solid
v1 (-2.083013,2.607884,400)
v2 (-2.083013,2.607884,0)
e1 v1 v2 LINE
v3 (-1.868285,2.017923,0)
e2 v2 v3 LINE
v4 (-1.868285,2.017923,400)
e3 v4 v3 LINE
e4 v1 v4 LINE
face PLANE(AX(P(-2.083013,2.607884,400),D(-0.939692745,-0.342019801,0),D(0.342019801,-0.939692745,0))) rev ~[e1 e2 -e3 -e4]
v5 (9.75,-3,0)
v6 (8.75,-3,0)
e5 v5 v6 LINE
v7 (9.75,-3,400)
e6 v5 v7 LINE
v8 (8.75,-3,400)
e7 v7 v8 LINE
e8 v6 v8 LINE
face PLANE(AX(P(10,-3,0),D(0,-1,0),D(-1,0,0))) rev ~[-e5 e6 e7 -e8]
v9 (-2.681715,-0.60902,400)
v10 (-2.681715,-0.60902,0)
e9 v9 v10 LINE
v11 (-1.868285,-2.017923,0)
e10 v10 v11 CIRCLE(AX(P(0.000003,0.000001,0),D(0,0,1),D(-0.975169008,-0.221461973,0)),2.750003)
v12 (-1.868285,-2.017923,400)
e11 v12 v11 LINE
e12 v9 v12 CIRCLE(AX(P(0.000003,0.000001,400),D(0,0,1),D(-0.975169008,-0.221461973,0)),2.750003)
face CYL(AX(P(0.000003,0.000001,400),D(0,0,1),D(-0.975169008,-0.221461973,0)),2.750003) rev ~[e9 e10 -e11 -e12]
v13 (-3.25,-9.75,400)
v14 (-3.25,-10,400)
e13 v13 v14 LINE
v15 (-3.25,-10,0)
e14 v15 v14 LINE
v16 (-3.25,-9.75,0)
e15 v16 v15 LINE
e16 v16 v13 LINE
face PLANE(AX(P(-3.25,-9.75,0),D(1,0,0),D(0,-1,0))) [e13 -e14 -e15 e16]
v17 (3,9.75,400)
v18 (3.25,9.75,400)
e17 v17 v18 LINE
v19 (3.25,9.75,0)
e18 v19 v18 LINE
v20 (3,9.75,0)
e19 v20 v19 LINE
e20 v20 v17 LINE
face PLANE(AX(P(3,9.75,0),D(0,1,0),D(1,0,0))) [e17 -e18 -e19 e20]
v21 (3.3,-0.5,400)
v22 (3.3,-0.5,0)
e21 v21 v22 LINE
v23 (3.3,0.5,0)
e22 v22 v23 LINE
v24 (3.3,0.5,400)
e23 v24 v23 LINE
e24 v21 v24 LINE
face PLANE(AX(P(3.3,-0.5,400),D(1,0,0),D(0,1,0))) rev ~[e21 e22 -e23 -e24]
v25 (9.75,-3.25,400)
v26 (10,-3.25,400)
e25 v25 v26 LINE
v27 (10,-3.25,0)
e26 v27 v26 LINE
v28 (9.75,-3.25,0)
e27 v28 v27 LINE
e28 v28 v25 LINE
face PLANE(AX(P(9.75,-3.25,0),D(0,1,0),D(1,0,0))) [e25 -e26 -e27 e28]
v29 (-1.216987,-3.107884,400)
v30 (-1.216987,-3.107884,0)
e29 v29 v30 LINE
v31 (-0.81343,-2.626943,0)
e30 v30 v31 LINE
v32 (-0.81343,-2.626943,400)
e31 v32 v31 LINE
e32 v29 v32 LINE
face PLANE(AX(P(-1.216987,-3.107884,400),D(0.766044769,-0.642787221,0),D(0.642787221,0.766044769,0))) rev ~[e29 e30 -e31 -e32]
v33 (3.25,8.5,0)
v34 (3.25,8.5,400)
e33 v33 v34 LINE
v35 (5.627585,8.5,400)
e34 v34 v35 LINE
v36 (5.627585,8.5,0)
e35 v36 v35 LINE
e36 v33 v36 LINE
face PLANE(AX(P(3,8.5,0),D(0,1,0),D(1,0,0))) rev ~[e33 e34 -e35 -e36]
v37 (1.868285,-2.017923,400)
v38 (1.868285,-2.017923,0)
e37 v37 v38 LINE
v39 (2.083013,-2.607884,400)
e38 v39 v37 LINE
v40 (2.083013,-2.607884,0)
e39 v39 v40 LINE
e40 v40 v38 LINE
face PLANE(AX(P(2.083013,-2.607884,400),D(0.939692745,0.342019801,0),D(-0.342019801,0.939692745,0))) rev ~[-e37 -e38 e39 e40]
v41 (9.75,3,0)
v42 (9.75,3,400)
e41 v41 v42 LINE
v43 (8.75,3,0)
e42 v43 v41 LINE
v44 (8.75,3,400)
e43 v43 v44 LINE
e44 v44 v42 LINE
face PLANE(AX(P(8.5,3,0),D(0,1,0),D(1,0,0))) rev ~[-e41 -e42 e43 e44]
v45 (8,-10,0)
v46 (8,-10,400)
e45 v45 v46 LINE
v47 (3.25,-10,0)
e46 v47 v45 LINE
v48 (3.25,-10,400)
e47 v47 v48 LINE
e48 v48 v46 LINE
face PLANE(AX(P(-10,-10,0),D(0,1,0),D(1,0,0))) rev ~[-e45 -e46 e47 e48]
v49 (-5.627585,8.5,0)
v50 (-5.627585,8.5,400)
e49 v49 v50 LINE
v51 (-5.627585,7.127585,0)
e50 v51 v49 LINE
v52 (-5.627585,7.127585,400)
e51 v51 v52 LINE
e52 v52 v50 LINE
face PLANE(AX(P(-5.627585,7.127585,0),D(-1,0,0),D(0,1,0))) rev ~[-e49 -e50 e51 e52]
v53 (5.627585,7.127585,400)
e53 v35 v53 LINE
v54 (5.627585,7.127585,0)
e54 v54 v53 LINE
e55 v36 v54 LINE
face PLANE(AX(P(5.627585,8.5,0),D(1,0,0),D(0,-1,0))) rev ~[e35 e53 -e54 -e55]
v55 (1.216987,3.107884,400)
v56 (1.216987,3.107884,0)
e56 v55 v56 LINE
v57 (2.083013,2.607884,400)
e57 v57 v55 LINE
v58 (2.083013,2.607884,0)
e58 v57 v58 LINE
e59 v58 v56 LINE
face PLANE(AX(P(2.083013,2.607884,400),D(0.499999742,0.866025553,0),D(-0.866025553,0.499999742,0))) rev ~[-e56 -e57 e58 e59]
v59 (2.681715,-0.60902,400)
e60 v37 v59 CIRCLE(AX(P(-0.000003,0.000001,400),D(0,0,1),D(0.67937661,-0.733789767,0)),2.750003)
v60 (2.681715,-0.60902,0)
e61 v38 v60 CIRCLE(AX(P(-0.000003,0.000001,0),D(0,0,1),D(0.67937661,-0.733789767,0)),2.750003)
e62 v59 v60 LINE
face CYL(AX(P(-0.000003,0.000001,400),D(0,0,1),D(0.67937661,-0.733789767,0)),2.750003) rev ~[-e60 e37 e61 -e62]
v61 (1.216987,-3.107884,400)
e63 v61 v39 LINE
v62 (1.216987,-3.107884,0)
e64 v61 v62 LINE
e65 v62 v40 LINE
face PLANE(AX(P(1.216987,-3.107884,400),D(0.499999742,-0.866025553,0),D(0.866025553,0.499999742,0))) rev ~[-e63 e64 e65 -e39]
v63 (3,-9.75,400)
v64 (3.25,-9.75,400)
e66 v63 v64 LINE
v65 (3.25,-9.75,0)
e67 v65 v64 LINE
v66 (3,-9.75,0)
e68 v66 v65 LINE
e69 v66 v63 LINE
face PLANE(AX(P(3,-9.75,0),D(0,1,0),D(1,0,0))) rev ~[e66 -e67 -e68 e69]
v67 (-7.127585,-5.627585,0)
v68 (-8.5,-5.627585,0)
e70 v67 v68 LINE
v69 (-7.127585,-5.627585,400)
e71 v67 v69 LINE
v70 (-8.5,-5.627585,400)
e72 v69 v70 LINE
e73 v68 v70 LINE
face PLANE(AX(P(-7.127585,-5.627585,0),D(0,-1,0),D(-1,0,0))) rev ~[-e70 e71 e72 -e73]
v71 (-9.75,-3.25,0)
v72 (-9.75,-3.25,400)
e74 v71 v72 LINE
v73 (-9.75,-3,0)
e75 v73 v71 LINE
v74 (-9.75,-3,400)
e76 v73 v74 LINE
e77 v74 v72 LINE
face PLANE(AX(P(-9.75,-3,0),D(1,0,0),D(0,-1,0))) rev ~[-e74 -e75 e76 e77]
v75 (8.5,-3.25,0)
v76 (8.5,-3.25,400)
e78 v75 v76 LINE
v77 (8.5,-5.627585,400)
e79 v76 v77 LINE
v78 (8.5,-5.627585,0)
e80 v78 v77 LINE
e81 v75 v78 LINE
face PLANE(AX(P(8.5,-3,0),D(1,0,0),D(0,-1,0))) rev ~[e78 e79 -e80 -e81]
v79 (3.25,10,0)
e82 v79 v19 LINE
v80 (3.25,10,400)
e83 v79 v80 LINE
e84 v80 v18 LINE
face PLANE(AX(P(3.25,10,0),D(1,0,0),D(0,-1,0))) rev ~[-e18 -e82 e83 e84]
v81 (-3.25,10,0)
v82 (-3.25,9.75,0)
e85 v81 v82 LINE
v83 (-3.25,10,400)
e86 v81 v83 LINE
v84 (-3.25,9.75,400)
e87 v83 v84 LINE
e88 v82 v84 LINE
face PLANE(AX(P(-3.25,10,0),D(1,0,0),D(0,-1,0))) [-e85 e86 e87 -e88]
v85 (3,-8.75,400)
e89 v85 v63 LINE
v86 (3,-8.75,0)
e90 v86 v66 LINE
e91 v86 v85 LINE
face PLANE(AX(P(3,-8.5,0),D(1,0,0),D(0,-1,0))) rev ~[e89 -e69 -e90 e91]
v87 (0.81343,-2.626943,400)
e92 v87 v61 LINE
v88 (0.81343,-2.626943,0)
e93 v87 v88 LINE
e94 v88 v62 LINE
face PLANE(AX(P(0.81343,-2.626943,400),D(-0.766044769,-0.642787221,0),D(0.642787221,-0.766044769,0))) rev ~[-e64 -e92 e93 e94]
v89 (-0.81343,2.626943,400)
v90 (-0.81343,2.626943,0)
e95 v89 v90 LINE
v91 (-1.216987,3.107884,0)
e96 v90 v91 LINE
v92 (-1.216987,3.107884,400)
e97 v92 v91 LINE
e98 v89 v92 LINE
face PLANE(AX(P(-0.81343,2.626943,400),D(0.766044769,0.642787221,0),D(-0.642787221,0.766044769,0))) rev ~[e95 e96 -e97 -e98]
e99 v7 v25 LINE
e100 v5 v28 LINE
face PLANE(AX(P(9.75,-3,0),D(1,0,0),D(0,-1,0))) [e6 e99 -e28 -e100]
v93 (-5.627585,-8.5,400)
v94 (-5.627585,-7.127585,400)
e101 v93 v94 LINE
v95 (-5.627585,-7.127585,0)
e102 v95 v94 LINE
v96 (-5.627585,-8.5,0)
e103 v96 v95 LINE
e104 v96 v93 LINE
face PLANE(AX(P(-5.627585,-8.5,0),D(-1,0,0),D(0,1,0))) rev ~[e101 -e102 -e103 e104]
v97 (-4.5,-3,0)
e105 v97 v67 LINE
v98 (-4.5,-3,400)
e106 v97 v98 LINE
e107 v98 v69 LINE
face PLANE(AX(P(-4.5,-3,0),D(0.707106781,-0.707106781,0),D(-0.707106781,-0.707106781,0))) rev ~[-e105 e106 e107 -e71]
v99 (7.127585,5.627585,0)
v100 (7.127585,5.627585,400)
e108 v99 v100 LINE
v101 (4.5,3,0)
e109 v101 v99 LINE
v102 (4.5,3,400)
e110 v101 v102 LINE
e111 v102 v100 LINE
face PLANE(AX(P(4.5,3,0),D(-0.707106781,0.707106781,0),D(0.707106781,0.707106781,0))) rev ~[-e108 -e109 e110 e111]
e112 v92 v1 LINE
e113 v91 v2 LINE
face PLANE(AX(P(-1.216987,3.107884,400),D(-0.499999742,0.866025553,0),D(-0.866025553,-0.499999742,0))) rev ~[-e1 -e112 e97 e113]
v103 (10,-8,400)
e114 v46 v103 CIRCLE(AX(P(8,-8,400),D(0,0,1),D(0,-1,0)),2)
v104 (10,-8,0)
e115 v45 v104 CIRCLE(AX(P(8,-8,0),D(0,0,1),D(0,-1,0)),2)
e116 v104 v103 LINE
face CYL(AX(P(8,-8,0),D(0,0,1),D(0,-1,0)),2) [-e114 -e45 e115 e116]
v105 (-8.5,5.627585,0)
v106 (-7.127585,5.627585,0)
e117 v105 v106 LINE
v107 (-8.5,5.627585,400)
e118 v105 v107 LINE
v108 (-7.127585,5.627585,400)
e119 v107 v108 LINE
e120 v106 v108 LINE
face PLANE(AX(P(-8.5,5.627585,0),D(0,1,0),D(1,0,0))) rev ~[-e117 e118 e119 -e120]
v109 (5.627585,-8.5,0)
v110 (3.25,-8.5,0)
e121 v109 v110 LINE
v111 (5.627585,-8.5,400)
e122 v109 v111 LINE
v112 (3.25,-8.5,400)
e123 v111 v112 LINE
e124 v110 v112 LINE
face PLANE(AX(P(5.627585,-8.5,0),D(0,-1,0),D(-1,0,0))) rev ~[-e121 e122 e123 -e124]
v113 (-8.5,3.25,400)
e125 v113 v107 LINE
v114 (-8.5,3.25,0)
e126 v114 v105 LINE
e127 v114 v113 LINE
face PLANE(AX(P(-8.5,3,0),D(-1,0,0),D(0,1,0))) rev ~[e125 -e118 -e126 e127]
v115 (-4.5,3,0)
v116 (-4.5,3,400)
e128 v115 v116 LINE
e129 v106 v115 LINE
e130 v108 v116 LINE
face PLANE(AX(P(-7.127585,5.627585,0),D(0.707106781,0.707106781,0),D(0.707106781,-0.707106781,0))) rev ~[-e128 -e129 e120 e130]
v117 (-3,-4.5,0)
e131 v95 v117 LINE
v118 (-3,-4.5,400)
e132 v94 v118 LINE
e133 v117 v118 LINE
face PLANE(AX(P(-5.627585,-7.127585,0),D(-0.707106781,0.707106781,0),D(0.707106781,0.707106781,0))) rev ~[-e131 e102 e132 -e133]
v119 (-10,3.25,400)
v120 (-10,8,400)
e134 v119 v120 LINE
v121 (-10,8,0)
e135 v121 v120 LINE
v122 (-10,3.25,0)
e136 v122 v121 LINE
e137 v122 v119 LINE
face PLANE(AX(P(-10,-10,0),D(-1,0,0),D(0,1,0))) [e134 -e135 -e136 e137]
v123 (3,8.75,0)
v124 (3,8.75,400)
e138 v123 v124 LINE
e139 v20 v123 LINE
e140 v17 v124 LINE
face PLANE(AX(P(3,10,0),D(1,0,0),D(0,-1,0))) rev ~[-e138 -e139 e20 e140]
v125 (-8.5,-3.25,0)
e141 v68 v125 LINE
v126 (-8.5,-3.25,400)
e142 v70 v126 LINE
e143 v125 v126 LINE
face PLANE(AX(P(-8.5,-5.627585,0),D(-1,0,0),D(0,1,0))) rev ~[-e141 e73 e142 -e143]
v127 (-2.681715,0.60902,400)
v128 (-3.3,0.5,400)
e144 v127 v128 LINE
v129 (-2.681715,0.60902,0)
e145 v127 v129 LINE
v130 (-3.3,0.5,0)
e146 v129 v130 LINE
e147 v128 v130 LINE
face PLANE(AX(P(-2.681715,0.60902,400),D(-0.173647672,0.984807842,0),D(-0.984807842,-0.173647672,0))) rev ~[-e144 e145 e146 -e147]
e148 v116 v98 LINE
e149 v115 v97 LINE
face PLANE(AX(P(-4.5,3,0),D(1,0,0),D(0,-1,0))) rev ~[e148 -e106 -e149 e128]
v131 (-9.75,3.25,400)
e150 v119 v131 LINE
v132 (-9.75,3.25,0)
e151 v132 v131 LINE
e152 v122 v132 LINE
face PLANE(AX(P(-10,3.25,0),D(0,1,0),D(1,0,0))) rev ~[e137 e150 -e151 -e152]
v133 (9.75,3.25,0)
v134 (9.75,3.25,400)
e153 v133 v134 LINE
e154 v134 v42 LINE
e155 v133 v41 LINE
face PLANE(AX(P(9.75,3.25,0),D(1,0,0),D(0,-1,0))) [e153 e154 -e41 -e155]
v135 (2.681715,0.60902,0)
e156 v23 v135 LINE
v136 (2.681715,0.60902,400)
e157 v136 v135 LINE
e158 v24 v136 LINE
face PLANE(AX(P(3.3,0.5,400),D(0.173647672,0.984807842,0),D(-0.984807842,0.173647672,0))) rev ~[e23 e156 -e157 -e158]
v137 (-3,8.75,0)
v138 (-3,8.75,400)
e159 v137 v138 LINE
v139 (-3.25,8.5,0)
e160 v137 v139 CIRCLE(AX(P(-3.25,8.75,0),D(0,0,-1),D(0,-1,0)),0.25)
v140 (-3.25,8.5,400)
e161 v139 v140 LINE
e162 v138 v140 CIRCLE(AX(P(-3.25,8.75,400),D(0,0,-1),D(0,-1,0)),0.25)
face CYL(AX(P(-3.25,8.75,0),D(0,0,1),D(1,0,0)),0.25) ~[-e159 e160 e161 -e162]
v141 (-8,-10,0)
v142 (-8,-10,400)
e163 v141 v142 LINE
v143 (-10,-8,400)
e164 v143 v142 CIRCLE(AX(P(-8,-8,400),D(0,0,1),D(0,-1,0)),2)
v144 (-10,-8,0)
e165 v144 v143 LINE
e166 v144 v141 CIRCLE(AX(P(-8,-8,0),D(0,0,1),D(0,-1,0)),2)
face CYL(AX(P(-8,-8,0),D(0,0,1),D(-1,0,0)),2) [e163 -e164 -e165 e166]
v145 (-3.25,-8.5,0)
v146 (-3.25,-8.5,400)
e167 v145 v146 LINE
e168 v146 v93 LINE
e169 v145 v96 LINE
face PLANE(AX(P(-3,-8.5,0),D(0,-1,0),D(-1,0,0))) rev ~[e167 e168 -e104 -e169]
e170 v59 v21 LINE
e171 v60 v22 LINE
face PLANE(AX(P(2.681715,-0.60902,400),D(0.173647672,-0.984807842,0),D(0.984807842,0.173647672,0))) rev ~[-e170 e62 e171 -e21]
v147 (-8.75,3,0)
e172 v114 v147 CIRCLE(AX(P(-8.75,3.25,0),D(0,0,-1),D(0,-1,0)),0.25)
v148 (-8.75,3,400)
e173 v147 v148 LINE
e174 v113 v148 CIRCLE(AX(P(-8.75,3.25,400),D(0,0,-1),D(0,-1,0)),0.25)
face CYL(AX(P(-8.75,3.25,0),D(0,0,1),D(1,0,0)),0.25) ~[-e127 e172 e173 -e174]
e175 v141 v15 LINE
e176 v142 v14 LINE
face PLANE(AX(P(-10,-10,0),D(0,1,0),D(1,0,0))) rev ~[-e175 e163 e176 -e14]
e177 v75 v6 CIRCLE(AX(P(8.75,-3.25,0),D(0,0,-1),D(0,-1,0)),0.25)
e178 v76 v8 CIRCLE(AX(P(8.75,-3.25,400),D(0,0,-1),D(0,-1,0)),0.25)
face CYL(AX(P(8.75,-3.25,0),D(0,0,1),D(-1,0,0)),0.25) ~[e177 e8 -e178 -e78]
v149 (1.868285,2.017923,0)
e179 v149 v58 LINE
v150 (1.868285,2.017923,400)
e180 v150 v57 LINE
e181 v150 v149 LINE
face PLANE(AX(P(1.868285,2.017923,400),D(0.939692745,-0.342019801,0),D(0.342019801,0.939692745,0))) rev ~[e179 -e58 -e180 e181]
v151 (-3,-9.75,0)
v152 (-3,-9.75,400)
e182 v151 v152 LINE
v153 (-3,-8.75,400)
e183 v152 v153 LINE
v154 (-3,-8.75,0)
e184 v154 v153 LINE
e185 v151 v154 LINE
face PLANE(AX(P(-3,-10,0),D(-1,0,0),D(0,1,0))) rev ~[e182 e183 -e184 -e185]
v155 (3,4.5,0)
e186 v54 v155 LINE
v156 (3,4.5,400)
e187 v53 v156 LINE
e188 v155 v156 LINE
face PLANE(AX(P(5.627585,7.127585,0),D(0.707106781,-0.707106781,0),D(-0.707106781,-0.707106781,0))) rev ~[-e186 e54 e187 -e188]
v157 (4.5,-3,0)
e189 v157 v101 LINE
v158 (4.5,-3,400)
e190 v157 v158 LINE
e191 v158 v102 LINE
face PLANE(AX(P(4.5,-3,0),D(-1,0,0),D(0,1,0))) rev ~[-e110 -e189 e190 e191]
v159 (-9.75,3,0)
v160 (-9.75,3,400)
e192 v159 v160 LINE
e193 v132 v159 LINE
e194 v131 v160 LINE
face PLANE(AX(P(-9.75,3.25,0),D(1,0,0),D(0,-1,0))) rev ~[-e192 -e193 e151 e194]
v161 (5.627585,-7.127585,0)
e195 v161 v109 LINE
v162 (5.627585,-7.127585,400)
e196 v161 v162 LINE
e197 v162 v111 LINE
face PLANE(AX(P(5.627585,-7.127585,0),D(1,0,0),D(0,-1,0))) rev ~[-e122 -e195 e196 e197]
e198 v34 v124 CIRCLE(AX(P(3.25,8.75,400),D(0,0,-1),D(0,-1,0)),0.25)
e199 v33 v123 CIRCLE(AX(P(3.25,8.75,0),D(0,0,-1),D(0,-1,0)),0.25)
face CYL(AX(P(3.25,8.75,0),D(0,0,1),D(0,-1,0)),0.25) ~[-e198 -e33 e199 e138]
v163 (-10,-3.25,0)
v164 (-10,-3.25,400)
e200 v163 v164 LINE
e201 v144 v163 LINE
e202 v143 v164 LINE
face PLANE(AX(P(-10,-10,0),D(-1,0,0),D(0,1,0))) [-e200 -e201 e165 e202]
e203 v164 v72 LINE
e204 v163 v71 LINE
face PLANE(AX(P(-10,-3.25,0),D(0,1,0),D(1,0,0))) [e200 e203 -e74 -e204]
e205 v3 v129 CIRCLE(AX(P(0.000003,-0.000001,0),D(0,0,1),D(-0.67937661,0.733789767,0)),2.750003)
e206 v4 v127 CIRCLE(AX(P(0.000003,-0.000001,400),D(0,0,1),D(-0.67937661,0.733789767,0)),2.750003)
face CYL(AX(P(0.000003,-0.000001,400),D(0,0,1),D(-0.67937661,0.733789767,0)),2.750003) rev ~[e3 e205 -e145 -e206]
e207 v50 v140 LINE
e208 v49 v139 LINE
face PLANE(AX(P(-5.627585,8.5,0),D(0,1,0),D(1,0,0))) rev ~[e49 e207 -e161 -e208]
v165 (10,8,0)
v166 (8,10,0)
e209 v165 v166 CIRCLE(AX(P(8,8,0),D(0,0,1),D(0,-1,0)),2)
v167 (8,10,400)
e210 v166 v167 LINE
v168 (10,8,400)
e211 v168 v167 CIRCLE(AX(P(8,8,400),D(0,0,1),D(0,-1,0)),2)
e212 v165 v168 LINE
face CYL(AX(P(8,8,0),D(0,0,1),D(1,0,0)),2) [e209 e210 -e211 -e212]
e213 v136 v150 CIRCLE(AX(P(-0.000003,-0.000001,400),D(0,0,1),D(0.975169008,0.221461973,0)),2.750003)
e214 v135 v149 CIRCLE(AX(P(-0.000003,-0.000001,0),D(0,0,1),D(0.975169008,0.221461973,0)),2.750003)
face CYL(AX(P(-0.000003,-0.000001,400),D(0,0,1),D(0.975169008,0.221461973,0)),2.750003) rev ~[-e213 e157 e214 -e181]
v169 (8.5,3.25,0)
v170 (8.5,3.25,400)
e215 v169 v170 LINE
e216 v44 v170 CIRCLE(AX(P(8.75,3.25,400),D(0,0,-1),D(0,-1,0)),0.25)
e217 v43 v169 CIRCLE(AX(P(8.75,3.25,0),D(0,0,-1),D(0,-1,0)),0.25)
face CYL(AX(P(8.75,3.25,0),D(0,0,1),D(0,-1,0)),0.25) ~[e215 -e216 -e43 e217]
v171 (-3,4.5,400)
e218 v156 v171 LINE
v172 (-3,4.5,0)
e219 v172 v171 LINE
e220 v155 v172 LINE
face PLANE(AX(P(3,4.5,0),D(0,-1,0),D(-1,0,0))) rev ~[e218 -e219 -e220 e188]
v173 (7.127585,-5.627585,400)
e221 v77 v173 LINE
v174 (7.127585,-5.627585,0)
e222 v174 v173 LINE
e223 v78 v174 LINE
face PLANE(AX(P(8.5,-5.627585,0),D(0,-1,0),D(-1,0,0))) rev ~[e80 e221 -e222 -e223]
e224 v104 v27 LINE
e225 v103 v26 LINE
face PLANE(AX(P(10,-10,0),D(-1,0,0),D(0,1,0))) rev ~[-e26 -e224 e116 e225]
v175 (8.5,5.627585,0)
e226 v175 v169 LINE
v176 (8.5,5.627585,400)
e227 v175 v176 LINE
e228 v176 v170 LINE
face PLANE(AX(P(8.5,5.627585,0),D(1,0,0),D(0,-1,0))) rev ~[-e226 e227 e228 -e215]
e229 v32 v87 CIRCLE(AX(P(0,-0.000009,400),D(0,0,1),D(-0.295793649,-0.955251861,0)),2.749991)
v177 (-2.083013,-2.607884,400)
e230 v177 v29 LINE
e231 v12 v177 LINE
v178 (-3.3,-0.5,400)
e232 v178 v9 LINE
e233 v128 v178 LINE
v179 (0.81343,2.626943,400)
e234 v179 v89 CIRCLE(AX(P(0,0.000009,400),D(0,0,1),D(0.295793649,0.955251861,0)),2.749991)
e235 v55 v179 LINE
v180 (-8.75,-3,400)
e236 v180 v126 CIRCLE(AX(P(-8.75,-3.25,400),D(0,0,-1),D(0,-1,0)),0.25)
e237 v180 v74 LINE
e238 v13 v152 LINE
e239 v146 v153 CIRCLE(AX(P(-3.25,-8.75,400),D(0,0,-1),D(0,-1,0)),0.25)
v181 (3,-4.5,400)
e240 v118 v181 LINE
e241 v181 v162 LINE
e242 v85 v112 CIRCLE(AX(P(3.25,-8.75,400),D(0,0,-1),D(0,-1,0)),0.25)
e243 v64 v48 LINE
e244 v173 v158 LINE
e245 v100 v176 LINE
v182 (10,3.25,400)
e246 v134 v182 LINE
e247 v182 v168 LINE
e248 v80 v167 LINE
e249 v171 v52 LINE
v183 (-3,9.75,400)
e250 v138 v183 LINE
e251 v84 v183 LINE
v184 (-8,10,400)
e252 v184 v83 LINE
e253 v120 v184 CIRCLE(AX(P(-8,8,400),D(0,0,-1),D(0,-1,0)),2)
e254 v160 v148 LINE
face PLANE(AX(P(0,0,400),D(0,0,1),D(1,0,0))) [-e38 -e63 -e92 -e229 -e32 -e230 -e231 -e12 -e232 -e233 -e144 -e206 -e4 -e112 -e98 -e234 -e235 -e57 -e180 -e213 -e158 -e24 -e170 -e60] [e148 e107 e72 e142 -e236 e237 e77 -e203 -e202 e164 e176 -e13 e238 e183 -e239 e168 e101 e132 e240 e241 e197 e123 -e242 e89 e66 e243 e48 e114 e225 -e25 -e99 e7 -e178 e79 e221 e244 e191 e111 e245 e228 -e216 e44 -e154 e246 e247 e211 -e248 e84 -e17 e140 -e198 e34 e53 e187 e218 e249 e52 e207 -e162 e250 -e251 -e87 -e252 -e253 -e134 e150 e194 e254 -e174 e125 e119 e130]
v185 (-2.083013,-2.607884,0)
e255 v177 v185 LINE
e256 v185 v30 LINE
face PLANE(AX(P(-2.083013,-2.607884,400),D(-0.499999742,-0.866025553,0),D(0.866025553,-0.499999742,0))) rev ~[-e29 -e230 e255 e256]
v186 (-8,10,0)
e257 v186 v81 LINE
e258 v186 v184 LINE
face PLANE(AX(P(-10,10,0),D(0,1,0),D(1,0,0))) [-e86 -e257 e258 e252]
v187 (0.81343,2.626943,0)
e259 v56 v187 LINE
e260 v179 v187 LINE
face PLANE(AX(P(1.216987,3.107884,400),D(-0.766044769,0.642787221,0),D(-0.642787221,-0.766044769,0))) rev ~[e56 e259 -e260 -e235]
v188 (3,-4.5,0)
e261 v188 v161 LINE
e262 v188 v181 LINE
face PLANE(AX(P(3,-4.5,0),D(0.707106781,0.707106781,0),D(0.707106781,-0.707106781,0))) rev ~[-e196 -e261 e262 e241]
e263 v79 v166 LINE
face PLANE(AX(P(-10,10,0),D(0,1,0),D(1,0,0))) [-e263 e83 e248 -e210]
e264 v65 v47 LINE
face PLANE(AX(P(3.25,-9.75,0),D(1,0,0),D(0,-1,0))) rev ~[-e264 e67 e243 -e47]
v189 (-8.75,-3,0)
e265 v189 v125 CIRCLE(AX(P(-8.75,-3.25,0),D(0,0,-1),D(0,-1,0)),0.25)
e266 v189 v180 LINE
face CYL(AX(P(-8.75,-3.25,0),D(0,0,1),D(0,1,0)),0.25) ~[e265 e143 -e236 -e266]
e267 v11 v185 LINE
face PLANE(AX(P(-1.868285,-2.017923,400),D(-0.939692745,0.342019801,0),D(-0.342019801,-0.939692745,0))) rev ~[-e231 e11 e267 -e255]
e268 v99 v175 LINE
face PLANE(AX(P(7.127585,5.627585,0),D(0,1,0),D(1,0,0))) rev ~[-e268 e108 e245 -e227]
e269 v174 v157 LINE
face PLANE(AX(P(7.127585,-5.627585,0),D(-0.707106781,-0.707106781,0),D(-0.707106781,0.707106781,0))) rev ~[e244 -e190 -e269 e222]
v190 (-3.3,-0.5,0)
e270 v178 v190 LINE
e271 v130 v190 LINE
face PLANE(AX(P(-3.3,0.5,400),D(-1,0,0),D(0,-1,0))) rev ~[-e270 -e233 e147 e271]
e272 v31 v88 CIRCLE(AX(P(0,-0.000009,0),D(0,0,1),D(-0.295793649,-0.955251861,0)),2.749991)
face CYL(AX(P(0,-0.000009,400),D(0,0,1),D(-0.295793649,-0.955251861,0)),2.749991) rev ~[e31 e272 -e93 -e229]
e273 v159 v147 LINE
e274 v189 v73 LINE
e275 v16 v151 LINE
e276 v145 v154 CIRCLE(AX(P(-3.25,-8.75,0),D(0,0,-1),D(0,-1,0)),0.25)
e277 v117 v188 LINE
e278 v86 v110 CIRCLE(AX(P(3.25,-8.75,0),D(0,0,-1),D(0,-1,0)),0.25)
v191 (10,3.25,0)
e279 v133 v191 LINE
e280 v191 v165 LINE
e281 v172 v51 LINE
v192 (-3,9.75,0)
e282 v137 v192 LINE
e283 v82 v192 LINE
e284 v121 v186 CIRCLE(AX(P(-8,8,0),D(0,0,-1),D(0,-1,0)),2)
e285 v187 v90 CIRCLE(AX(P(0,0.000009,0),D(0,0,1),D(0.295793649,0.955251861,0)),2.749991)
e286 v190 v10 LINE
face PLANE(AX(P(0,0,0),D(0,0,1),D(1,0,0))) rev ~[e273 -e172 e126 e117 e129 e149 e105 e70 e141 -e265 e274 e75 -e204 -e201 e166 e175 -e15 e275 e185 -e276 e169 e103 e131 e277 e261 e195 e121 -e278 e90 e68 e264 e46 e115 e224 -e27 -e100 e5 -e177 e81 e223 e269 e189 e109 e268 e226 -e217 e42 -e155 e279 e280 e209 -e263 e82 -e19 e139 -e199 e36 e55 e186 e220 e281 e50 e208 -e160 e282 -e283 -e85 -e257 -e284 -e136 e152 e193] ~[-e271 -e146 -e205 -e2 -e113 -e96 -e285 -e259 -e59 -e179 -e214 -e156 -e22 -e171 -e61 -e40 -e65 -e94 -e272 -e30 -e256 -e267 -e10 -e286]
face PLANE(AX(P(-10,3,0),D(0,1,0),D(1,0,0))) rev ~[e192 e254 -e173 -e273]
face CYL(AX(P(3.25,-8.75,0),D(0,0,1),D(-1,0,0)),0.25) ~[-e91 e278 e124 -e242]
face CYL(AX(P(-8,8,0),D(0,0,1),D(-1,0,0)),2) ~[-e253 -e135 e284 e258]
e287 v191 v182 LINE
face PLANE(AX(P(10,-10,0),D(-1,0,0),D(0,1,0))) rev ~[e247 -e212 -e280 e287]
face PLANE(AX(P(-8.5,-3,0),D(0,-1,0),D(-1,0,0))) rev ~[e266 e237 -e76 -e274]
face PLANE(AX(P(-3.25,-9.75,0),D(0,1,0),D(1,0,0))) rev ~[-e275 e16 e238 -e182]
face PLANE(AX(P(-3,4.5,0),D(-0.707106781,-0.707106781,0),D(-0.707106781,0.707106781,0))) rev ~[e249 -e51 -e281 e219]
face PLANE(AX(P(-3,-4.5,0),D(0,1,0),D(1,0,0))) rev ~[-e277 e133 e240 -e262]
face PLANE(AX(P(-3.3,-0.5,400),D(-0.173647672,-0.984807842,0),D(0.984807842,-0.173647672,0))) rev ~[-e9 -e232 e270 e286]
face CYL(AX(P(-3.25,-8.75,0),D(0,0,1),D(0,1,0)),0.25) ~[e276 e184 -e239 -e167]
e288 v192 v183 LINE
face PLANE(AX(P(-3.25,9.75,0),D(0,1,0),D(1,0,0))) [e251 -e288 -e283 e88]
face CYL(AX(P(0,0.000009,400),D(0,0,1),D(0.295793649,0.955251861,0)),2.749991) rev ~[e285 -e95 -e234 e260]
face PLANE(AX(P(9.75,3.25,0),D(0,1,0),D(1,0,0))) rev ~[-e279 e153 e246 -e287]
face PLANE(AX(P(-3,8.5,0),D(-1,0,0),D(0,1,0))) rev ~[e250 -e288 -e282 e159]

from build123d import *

# Parameters (mm, degrees)
F0_W     = 20
F0_H     = 20
F1_DEPTH = 400
F2_R     = 2
F4_DEPTH = 400
F6_DEPTH = 400
F7_W     = 0.25
F7_H     = 0.25
F8_DEPTH = 400
F9_R     = 0.25


with BuildPart() as f1:
    # F0 (on Top) → F1 (new body)
    with BuildSketch(Plane.XY):
        Rectangle(F0_W, F0_H)
    extrude(amount=F1_DEPTH)

    # F2
    f2_edges = [f1.edges().sort_by_distance(p)[0] for p in [
        (10, 10, 200),
        (-10, 10, 200),
        (-10, -10, 200),
        (10, -10, 200),
    ]]
    fillet(f2_edges, radius=F2_R)

    # F3 (on face) → F4 (cut, through all)
    with BuildSketch(Plane(origin=(0, 0, 0), x_dir=(1, 0, 0), z_dir=(0, 0, -1))):
        Polygon((3, 10), (-3, 10), (-3, 8.5), (-5.627585, 8.5), (-5.627585, 7.127585), (-3, 4.5), (0, 4.5), (3, 4.5), (5.627585, 7.127585), (5.627585, 8.5), (3, 8.5), align=None)
        Polygon((10, -3), (10, 3), (8.5, 3), (8.5, 5.627585), (7.127585, 5.627585), (4.5, 3), (4.5, 0), (4.5, -3), (7.127585, -5.627585), (8.5, -5.627585), (8.5, -3), align=None)
        Polygon((-3, -8.5), (-3, -10), (3, -10), (3, -8.5), (5.627585, -8.5), (5.627585, -7.127585), (3, -4.5), (0, -4.5), (-3, -4.5), (-5.627585, -7.127585), (-5.627585, -8.5), align=None)
        Polygon((-8.5, 3), (-10, 3), (-10, -3), (-8.5, -3), (-8.5, -5.627585), (-7.127585, -5.627585), (-4.5, -3), (-4.5, 0), (-4.5, 3), (-7.127585, 5.627585), (-8.5, 5.627585), align=None)
    extrude(amount=-F4_DEPTH, mode=Mode.SUBTRACT)

    # F5 (on face) → F6 (cut, through all)
    with BuildSketch(Plane.XY.offset(400)):
        with BuildLine():
            Line((-3.3, -0.5), (-2.681715, -0.60902))
            ThreePointArc((-2.681715, -0.60902), (-2.38157, -1.375), (-1.868285, -2.017923))
            Line((-1.868285, -2.017923), (-2.083013, -2.607884))
            Line((-2.083013, -2.607884), (-1.65, -2.857884))
            Line((-1.65, -2.857884), (-1.216987, -3.107884))
            Line((-1.216987, -3.107884), (-0.81343, -2.626943))
            ThreePointArc((-0.81343, -2.626943), (0, -2.75), (0.81343, -2.626943))
            Line((0.81343, -2.626943), (1.216987, -3.107884))
            Line((1.216987, -3.107884), (1.65, -2.857884))
            Line((1.65, -2.857884), (2.083013, -2.607884))
            Line((2.083013, -2.607884), (1.868285, -2.017923))
            ThreePointArc((1.868285, -2.017923), (2.38157, -1.375), (2.681715, -0.60902))
            Line((2.681715, -0.60902), (3.3, -0.5))
            Line((3.3, -0.5), (3.3, 0))
            Line((3.3, 0), (3.3, 0.5))
            Line((3.3, 0.5), (2.681715, 0.60902))
            ThreePointArc((2.681715, 0.60902), (2.38157, 1.375), (1.868285, 2.017923))
            Line((1.868285, 2.017923), (2.083013, 2.607884))
            Line((2.083013, 2.607884), (1.65, 2.857884))
            Line((1.65, 2.857884), (1.216987, 3.107884))
            Line((1.216987, 3.107884), (0.81343, 2.626943))
            ThreePointArc((0.81343, 2.626943), (0, 2.75), (-0.81343, 2.626943))
            Line((-0.81343, 2.626943), (-1.216987, 3.107884))
            Line((-1.216987, 3.107884), (-1.65, 2.857884))
            Line((-1.65, 2.857884), (-2.083013, 2.607884))
            Line((-2.083013, 2.607884), (-1.868285, 2.017923))
            ThreePointArc((-1.868285, 2.017923), (-2.38157, 1.375), (-2.681715, 0.60902))
            Line((-2.681715, 0.60902), (-3.3, 0.5))
            Line((-3.3, 0.5), (-3.3, 0))
            Line((-3.3, 0), (-3.3, -0.5))
        make_face()
    extrude(amount=-F6_DEPTH, mode=Mode.SUBTRACT)

    # F7 (on face) → F8 (cut, through all)
    with BuildSketch(Plane(origin=(0, 0, 0), x_dir=(1, 0, 0), z_dir=(0, 0, -1))):
        with Locations((-9.875, 3.125)):
            Rectangle(F7_W, F7_H)
        with Locations((-3.125, 9.875)):
            Rectangle(F7_W, F7_H)
        with Locations((3.125, 9.875)):
            Rectangle(F7_W, F7_H)
        with Locations((9.875, 3.125)):
            Rectangle(F7_W, F7_H)
        with Locations((-9.875, -3.125)):
            Rectangle(F7_W, F7_H)
        with Locations((9.875, -3.125)):
            Rectangle(F7_W, F7_H)
        with Locations((-3.125, -9.875)):
            Rectangle(F7_W, F7_H)
        with Locations((3.125, -9.875)):
            Rectangle(F7_W, F7_H)
    extrude(amount=-F8_DEPTH, mode=Mode.SUBTRACT)

    # F9
    f9_edges = [f1.edges().sort_by_distance(p)[0] for p in [
        (-8.5, 3, 200),
        (-8.5, -3, 200),
        (-3, -8.5, 200),
        (3, -8.5, 200),
        (8.5, -3, 200),
        (-3, 8.5, 200),
        (3, 8.5, 200),
        (8.5, 3, 200),
    ]]
    fillet(f9_edges, radius=F9_R)


solid = f1.part
